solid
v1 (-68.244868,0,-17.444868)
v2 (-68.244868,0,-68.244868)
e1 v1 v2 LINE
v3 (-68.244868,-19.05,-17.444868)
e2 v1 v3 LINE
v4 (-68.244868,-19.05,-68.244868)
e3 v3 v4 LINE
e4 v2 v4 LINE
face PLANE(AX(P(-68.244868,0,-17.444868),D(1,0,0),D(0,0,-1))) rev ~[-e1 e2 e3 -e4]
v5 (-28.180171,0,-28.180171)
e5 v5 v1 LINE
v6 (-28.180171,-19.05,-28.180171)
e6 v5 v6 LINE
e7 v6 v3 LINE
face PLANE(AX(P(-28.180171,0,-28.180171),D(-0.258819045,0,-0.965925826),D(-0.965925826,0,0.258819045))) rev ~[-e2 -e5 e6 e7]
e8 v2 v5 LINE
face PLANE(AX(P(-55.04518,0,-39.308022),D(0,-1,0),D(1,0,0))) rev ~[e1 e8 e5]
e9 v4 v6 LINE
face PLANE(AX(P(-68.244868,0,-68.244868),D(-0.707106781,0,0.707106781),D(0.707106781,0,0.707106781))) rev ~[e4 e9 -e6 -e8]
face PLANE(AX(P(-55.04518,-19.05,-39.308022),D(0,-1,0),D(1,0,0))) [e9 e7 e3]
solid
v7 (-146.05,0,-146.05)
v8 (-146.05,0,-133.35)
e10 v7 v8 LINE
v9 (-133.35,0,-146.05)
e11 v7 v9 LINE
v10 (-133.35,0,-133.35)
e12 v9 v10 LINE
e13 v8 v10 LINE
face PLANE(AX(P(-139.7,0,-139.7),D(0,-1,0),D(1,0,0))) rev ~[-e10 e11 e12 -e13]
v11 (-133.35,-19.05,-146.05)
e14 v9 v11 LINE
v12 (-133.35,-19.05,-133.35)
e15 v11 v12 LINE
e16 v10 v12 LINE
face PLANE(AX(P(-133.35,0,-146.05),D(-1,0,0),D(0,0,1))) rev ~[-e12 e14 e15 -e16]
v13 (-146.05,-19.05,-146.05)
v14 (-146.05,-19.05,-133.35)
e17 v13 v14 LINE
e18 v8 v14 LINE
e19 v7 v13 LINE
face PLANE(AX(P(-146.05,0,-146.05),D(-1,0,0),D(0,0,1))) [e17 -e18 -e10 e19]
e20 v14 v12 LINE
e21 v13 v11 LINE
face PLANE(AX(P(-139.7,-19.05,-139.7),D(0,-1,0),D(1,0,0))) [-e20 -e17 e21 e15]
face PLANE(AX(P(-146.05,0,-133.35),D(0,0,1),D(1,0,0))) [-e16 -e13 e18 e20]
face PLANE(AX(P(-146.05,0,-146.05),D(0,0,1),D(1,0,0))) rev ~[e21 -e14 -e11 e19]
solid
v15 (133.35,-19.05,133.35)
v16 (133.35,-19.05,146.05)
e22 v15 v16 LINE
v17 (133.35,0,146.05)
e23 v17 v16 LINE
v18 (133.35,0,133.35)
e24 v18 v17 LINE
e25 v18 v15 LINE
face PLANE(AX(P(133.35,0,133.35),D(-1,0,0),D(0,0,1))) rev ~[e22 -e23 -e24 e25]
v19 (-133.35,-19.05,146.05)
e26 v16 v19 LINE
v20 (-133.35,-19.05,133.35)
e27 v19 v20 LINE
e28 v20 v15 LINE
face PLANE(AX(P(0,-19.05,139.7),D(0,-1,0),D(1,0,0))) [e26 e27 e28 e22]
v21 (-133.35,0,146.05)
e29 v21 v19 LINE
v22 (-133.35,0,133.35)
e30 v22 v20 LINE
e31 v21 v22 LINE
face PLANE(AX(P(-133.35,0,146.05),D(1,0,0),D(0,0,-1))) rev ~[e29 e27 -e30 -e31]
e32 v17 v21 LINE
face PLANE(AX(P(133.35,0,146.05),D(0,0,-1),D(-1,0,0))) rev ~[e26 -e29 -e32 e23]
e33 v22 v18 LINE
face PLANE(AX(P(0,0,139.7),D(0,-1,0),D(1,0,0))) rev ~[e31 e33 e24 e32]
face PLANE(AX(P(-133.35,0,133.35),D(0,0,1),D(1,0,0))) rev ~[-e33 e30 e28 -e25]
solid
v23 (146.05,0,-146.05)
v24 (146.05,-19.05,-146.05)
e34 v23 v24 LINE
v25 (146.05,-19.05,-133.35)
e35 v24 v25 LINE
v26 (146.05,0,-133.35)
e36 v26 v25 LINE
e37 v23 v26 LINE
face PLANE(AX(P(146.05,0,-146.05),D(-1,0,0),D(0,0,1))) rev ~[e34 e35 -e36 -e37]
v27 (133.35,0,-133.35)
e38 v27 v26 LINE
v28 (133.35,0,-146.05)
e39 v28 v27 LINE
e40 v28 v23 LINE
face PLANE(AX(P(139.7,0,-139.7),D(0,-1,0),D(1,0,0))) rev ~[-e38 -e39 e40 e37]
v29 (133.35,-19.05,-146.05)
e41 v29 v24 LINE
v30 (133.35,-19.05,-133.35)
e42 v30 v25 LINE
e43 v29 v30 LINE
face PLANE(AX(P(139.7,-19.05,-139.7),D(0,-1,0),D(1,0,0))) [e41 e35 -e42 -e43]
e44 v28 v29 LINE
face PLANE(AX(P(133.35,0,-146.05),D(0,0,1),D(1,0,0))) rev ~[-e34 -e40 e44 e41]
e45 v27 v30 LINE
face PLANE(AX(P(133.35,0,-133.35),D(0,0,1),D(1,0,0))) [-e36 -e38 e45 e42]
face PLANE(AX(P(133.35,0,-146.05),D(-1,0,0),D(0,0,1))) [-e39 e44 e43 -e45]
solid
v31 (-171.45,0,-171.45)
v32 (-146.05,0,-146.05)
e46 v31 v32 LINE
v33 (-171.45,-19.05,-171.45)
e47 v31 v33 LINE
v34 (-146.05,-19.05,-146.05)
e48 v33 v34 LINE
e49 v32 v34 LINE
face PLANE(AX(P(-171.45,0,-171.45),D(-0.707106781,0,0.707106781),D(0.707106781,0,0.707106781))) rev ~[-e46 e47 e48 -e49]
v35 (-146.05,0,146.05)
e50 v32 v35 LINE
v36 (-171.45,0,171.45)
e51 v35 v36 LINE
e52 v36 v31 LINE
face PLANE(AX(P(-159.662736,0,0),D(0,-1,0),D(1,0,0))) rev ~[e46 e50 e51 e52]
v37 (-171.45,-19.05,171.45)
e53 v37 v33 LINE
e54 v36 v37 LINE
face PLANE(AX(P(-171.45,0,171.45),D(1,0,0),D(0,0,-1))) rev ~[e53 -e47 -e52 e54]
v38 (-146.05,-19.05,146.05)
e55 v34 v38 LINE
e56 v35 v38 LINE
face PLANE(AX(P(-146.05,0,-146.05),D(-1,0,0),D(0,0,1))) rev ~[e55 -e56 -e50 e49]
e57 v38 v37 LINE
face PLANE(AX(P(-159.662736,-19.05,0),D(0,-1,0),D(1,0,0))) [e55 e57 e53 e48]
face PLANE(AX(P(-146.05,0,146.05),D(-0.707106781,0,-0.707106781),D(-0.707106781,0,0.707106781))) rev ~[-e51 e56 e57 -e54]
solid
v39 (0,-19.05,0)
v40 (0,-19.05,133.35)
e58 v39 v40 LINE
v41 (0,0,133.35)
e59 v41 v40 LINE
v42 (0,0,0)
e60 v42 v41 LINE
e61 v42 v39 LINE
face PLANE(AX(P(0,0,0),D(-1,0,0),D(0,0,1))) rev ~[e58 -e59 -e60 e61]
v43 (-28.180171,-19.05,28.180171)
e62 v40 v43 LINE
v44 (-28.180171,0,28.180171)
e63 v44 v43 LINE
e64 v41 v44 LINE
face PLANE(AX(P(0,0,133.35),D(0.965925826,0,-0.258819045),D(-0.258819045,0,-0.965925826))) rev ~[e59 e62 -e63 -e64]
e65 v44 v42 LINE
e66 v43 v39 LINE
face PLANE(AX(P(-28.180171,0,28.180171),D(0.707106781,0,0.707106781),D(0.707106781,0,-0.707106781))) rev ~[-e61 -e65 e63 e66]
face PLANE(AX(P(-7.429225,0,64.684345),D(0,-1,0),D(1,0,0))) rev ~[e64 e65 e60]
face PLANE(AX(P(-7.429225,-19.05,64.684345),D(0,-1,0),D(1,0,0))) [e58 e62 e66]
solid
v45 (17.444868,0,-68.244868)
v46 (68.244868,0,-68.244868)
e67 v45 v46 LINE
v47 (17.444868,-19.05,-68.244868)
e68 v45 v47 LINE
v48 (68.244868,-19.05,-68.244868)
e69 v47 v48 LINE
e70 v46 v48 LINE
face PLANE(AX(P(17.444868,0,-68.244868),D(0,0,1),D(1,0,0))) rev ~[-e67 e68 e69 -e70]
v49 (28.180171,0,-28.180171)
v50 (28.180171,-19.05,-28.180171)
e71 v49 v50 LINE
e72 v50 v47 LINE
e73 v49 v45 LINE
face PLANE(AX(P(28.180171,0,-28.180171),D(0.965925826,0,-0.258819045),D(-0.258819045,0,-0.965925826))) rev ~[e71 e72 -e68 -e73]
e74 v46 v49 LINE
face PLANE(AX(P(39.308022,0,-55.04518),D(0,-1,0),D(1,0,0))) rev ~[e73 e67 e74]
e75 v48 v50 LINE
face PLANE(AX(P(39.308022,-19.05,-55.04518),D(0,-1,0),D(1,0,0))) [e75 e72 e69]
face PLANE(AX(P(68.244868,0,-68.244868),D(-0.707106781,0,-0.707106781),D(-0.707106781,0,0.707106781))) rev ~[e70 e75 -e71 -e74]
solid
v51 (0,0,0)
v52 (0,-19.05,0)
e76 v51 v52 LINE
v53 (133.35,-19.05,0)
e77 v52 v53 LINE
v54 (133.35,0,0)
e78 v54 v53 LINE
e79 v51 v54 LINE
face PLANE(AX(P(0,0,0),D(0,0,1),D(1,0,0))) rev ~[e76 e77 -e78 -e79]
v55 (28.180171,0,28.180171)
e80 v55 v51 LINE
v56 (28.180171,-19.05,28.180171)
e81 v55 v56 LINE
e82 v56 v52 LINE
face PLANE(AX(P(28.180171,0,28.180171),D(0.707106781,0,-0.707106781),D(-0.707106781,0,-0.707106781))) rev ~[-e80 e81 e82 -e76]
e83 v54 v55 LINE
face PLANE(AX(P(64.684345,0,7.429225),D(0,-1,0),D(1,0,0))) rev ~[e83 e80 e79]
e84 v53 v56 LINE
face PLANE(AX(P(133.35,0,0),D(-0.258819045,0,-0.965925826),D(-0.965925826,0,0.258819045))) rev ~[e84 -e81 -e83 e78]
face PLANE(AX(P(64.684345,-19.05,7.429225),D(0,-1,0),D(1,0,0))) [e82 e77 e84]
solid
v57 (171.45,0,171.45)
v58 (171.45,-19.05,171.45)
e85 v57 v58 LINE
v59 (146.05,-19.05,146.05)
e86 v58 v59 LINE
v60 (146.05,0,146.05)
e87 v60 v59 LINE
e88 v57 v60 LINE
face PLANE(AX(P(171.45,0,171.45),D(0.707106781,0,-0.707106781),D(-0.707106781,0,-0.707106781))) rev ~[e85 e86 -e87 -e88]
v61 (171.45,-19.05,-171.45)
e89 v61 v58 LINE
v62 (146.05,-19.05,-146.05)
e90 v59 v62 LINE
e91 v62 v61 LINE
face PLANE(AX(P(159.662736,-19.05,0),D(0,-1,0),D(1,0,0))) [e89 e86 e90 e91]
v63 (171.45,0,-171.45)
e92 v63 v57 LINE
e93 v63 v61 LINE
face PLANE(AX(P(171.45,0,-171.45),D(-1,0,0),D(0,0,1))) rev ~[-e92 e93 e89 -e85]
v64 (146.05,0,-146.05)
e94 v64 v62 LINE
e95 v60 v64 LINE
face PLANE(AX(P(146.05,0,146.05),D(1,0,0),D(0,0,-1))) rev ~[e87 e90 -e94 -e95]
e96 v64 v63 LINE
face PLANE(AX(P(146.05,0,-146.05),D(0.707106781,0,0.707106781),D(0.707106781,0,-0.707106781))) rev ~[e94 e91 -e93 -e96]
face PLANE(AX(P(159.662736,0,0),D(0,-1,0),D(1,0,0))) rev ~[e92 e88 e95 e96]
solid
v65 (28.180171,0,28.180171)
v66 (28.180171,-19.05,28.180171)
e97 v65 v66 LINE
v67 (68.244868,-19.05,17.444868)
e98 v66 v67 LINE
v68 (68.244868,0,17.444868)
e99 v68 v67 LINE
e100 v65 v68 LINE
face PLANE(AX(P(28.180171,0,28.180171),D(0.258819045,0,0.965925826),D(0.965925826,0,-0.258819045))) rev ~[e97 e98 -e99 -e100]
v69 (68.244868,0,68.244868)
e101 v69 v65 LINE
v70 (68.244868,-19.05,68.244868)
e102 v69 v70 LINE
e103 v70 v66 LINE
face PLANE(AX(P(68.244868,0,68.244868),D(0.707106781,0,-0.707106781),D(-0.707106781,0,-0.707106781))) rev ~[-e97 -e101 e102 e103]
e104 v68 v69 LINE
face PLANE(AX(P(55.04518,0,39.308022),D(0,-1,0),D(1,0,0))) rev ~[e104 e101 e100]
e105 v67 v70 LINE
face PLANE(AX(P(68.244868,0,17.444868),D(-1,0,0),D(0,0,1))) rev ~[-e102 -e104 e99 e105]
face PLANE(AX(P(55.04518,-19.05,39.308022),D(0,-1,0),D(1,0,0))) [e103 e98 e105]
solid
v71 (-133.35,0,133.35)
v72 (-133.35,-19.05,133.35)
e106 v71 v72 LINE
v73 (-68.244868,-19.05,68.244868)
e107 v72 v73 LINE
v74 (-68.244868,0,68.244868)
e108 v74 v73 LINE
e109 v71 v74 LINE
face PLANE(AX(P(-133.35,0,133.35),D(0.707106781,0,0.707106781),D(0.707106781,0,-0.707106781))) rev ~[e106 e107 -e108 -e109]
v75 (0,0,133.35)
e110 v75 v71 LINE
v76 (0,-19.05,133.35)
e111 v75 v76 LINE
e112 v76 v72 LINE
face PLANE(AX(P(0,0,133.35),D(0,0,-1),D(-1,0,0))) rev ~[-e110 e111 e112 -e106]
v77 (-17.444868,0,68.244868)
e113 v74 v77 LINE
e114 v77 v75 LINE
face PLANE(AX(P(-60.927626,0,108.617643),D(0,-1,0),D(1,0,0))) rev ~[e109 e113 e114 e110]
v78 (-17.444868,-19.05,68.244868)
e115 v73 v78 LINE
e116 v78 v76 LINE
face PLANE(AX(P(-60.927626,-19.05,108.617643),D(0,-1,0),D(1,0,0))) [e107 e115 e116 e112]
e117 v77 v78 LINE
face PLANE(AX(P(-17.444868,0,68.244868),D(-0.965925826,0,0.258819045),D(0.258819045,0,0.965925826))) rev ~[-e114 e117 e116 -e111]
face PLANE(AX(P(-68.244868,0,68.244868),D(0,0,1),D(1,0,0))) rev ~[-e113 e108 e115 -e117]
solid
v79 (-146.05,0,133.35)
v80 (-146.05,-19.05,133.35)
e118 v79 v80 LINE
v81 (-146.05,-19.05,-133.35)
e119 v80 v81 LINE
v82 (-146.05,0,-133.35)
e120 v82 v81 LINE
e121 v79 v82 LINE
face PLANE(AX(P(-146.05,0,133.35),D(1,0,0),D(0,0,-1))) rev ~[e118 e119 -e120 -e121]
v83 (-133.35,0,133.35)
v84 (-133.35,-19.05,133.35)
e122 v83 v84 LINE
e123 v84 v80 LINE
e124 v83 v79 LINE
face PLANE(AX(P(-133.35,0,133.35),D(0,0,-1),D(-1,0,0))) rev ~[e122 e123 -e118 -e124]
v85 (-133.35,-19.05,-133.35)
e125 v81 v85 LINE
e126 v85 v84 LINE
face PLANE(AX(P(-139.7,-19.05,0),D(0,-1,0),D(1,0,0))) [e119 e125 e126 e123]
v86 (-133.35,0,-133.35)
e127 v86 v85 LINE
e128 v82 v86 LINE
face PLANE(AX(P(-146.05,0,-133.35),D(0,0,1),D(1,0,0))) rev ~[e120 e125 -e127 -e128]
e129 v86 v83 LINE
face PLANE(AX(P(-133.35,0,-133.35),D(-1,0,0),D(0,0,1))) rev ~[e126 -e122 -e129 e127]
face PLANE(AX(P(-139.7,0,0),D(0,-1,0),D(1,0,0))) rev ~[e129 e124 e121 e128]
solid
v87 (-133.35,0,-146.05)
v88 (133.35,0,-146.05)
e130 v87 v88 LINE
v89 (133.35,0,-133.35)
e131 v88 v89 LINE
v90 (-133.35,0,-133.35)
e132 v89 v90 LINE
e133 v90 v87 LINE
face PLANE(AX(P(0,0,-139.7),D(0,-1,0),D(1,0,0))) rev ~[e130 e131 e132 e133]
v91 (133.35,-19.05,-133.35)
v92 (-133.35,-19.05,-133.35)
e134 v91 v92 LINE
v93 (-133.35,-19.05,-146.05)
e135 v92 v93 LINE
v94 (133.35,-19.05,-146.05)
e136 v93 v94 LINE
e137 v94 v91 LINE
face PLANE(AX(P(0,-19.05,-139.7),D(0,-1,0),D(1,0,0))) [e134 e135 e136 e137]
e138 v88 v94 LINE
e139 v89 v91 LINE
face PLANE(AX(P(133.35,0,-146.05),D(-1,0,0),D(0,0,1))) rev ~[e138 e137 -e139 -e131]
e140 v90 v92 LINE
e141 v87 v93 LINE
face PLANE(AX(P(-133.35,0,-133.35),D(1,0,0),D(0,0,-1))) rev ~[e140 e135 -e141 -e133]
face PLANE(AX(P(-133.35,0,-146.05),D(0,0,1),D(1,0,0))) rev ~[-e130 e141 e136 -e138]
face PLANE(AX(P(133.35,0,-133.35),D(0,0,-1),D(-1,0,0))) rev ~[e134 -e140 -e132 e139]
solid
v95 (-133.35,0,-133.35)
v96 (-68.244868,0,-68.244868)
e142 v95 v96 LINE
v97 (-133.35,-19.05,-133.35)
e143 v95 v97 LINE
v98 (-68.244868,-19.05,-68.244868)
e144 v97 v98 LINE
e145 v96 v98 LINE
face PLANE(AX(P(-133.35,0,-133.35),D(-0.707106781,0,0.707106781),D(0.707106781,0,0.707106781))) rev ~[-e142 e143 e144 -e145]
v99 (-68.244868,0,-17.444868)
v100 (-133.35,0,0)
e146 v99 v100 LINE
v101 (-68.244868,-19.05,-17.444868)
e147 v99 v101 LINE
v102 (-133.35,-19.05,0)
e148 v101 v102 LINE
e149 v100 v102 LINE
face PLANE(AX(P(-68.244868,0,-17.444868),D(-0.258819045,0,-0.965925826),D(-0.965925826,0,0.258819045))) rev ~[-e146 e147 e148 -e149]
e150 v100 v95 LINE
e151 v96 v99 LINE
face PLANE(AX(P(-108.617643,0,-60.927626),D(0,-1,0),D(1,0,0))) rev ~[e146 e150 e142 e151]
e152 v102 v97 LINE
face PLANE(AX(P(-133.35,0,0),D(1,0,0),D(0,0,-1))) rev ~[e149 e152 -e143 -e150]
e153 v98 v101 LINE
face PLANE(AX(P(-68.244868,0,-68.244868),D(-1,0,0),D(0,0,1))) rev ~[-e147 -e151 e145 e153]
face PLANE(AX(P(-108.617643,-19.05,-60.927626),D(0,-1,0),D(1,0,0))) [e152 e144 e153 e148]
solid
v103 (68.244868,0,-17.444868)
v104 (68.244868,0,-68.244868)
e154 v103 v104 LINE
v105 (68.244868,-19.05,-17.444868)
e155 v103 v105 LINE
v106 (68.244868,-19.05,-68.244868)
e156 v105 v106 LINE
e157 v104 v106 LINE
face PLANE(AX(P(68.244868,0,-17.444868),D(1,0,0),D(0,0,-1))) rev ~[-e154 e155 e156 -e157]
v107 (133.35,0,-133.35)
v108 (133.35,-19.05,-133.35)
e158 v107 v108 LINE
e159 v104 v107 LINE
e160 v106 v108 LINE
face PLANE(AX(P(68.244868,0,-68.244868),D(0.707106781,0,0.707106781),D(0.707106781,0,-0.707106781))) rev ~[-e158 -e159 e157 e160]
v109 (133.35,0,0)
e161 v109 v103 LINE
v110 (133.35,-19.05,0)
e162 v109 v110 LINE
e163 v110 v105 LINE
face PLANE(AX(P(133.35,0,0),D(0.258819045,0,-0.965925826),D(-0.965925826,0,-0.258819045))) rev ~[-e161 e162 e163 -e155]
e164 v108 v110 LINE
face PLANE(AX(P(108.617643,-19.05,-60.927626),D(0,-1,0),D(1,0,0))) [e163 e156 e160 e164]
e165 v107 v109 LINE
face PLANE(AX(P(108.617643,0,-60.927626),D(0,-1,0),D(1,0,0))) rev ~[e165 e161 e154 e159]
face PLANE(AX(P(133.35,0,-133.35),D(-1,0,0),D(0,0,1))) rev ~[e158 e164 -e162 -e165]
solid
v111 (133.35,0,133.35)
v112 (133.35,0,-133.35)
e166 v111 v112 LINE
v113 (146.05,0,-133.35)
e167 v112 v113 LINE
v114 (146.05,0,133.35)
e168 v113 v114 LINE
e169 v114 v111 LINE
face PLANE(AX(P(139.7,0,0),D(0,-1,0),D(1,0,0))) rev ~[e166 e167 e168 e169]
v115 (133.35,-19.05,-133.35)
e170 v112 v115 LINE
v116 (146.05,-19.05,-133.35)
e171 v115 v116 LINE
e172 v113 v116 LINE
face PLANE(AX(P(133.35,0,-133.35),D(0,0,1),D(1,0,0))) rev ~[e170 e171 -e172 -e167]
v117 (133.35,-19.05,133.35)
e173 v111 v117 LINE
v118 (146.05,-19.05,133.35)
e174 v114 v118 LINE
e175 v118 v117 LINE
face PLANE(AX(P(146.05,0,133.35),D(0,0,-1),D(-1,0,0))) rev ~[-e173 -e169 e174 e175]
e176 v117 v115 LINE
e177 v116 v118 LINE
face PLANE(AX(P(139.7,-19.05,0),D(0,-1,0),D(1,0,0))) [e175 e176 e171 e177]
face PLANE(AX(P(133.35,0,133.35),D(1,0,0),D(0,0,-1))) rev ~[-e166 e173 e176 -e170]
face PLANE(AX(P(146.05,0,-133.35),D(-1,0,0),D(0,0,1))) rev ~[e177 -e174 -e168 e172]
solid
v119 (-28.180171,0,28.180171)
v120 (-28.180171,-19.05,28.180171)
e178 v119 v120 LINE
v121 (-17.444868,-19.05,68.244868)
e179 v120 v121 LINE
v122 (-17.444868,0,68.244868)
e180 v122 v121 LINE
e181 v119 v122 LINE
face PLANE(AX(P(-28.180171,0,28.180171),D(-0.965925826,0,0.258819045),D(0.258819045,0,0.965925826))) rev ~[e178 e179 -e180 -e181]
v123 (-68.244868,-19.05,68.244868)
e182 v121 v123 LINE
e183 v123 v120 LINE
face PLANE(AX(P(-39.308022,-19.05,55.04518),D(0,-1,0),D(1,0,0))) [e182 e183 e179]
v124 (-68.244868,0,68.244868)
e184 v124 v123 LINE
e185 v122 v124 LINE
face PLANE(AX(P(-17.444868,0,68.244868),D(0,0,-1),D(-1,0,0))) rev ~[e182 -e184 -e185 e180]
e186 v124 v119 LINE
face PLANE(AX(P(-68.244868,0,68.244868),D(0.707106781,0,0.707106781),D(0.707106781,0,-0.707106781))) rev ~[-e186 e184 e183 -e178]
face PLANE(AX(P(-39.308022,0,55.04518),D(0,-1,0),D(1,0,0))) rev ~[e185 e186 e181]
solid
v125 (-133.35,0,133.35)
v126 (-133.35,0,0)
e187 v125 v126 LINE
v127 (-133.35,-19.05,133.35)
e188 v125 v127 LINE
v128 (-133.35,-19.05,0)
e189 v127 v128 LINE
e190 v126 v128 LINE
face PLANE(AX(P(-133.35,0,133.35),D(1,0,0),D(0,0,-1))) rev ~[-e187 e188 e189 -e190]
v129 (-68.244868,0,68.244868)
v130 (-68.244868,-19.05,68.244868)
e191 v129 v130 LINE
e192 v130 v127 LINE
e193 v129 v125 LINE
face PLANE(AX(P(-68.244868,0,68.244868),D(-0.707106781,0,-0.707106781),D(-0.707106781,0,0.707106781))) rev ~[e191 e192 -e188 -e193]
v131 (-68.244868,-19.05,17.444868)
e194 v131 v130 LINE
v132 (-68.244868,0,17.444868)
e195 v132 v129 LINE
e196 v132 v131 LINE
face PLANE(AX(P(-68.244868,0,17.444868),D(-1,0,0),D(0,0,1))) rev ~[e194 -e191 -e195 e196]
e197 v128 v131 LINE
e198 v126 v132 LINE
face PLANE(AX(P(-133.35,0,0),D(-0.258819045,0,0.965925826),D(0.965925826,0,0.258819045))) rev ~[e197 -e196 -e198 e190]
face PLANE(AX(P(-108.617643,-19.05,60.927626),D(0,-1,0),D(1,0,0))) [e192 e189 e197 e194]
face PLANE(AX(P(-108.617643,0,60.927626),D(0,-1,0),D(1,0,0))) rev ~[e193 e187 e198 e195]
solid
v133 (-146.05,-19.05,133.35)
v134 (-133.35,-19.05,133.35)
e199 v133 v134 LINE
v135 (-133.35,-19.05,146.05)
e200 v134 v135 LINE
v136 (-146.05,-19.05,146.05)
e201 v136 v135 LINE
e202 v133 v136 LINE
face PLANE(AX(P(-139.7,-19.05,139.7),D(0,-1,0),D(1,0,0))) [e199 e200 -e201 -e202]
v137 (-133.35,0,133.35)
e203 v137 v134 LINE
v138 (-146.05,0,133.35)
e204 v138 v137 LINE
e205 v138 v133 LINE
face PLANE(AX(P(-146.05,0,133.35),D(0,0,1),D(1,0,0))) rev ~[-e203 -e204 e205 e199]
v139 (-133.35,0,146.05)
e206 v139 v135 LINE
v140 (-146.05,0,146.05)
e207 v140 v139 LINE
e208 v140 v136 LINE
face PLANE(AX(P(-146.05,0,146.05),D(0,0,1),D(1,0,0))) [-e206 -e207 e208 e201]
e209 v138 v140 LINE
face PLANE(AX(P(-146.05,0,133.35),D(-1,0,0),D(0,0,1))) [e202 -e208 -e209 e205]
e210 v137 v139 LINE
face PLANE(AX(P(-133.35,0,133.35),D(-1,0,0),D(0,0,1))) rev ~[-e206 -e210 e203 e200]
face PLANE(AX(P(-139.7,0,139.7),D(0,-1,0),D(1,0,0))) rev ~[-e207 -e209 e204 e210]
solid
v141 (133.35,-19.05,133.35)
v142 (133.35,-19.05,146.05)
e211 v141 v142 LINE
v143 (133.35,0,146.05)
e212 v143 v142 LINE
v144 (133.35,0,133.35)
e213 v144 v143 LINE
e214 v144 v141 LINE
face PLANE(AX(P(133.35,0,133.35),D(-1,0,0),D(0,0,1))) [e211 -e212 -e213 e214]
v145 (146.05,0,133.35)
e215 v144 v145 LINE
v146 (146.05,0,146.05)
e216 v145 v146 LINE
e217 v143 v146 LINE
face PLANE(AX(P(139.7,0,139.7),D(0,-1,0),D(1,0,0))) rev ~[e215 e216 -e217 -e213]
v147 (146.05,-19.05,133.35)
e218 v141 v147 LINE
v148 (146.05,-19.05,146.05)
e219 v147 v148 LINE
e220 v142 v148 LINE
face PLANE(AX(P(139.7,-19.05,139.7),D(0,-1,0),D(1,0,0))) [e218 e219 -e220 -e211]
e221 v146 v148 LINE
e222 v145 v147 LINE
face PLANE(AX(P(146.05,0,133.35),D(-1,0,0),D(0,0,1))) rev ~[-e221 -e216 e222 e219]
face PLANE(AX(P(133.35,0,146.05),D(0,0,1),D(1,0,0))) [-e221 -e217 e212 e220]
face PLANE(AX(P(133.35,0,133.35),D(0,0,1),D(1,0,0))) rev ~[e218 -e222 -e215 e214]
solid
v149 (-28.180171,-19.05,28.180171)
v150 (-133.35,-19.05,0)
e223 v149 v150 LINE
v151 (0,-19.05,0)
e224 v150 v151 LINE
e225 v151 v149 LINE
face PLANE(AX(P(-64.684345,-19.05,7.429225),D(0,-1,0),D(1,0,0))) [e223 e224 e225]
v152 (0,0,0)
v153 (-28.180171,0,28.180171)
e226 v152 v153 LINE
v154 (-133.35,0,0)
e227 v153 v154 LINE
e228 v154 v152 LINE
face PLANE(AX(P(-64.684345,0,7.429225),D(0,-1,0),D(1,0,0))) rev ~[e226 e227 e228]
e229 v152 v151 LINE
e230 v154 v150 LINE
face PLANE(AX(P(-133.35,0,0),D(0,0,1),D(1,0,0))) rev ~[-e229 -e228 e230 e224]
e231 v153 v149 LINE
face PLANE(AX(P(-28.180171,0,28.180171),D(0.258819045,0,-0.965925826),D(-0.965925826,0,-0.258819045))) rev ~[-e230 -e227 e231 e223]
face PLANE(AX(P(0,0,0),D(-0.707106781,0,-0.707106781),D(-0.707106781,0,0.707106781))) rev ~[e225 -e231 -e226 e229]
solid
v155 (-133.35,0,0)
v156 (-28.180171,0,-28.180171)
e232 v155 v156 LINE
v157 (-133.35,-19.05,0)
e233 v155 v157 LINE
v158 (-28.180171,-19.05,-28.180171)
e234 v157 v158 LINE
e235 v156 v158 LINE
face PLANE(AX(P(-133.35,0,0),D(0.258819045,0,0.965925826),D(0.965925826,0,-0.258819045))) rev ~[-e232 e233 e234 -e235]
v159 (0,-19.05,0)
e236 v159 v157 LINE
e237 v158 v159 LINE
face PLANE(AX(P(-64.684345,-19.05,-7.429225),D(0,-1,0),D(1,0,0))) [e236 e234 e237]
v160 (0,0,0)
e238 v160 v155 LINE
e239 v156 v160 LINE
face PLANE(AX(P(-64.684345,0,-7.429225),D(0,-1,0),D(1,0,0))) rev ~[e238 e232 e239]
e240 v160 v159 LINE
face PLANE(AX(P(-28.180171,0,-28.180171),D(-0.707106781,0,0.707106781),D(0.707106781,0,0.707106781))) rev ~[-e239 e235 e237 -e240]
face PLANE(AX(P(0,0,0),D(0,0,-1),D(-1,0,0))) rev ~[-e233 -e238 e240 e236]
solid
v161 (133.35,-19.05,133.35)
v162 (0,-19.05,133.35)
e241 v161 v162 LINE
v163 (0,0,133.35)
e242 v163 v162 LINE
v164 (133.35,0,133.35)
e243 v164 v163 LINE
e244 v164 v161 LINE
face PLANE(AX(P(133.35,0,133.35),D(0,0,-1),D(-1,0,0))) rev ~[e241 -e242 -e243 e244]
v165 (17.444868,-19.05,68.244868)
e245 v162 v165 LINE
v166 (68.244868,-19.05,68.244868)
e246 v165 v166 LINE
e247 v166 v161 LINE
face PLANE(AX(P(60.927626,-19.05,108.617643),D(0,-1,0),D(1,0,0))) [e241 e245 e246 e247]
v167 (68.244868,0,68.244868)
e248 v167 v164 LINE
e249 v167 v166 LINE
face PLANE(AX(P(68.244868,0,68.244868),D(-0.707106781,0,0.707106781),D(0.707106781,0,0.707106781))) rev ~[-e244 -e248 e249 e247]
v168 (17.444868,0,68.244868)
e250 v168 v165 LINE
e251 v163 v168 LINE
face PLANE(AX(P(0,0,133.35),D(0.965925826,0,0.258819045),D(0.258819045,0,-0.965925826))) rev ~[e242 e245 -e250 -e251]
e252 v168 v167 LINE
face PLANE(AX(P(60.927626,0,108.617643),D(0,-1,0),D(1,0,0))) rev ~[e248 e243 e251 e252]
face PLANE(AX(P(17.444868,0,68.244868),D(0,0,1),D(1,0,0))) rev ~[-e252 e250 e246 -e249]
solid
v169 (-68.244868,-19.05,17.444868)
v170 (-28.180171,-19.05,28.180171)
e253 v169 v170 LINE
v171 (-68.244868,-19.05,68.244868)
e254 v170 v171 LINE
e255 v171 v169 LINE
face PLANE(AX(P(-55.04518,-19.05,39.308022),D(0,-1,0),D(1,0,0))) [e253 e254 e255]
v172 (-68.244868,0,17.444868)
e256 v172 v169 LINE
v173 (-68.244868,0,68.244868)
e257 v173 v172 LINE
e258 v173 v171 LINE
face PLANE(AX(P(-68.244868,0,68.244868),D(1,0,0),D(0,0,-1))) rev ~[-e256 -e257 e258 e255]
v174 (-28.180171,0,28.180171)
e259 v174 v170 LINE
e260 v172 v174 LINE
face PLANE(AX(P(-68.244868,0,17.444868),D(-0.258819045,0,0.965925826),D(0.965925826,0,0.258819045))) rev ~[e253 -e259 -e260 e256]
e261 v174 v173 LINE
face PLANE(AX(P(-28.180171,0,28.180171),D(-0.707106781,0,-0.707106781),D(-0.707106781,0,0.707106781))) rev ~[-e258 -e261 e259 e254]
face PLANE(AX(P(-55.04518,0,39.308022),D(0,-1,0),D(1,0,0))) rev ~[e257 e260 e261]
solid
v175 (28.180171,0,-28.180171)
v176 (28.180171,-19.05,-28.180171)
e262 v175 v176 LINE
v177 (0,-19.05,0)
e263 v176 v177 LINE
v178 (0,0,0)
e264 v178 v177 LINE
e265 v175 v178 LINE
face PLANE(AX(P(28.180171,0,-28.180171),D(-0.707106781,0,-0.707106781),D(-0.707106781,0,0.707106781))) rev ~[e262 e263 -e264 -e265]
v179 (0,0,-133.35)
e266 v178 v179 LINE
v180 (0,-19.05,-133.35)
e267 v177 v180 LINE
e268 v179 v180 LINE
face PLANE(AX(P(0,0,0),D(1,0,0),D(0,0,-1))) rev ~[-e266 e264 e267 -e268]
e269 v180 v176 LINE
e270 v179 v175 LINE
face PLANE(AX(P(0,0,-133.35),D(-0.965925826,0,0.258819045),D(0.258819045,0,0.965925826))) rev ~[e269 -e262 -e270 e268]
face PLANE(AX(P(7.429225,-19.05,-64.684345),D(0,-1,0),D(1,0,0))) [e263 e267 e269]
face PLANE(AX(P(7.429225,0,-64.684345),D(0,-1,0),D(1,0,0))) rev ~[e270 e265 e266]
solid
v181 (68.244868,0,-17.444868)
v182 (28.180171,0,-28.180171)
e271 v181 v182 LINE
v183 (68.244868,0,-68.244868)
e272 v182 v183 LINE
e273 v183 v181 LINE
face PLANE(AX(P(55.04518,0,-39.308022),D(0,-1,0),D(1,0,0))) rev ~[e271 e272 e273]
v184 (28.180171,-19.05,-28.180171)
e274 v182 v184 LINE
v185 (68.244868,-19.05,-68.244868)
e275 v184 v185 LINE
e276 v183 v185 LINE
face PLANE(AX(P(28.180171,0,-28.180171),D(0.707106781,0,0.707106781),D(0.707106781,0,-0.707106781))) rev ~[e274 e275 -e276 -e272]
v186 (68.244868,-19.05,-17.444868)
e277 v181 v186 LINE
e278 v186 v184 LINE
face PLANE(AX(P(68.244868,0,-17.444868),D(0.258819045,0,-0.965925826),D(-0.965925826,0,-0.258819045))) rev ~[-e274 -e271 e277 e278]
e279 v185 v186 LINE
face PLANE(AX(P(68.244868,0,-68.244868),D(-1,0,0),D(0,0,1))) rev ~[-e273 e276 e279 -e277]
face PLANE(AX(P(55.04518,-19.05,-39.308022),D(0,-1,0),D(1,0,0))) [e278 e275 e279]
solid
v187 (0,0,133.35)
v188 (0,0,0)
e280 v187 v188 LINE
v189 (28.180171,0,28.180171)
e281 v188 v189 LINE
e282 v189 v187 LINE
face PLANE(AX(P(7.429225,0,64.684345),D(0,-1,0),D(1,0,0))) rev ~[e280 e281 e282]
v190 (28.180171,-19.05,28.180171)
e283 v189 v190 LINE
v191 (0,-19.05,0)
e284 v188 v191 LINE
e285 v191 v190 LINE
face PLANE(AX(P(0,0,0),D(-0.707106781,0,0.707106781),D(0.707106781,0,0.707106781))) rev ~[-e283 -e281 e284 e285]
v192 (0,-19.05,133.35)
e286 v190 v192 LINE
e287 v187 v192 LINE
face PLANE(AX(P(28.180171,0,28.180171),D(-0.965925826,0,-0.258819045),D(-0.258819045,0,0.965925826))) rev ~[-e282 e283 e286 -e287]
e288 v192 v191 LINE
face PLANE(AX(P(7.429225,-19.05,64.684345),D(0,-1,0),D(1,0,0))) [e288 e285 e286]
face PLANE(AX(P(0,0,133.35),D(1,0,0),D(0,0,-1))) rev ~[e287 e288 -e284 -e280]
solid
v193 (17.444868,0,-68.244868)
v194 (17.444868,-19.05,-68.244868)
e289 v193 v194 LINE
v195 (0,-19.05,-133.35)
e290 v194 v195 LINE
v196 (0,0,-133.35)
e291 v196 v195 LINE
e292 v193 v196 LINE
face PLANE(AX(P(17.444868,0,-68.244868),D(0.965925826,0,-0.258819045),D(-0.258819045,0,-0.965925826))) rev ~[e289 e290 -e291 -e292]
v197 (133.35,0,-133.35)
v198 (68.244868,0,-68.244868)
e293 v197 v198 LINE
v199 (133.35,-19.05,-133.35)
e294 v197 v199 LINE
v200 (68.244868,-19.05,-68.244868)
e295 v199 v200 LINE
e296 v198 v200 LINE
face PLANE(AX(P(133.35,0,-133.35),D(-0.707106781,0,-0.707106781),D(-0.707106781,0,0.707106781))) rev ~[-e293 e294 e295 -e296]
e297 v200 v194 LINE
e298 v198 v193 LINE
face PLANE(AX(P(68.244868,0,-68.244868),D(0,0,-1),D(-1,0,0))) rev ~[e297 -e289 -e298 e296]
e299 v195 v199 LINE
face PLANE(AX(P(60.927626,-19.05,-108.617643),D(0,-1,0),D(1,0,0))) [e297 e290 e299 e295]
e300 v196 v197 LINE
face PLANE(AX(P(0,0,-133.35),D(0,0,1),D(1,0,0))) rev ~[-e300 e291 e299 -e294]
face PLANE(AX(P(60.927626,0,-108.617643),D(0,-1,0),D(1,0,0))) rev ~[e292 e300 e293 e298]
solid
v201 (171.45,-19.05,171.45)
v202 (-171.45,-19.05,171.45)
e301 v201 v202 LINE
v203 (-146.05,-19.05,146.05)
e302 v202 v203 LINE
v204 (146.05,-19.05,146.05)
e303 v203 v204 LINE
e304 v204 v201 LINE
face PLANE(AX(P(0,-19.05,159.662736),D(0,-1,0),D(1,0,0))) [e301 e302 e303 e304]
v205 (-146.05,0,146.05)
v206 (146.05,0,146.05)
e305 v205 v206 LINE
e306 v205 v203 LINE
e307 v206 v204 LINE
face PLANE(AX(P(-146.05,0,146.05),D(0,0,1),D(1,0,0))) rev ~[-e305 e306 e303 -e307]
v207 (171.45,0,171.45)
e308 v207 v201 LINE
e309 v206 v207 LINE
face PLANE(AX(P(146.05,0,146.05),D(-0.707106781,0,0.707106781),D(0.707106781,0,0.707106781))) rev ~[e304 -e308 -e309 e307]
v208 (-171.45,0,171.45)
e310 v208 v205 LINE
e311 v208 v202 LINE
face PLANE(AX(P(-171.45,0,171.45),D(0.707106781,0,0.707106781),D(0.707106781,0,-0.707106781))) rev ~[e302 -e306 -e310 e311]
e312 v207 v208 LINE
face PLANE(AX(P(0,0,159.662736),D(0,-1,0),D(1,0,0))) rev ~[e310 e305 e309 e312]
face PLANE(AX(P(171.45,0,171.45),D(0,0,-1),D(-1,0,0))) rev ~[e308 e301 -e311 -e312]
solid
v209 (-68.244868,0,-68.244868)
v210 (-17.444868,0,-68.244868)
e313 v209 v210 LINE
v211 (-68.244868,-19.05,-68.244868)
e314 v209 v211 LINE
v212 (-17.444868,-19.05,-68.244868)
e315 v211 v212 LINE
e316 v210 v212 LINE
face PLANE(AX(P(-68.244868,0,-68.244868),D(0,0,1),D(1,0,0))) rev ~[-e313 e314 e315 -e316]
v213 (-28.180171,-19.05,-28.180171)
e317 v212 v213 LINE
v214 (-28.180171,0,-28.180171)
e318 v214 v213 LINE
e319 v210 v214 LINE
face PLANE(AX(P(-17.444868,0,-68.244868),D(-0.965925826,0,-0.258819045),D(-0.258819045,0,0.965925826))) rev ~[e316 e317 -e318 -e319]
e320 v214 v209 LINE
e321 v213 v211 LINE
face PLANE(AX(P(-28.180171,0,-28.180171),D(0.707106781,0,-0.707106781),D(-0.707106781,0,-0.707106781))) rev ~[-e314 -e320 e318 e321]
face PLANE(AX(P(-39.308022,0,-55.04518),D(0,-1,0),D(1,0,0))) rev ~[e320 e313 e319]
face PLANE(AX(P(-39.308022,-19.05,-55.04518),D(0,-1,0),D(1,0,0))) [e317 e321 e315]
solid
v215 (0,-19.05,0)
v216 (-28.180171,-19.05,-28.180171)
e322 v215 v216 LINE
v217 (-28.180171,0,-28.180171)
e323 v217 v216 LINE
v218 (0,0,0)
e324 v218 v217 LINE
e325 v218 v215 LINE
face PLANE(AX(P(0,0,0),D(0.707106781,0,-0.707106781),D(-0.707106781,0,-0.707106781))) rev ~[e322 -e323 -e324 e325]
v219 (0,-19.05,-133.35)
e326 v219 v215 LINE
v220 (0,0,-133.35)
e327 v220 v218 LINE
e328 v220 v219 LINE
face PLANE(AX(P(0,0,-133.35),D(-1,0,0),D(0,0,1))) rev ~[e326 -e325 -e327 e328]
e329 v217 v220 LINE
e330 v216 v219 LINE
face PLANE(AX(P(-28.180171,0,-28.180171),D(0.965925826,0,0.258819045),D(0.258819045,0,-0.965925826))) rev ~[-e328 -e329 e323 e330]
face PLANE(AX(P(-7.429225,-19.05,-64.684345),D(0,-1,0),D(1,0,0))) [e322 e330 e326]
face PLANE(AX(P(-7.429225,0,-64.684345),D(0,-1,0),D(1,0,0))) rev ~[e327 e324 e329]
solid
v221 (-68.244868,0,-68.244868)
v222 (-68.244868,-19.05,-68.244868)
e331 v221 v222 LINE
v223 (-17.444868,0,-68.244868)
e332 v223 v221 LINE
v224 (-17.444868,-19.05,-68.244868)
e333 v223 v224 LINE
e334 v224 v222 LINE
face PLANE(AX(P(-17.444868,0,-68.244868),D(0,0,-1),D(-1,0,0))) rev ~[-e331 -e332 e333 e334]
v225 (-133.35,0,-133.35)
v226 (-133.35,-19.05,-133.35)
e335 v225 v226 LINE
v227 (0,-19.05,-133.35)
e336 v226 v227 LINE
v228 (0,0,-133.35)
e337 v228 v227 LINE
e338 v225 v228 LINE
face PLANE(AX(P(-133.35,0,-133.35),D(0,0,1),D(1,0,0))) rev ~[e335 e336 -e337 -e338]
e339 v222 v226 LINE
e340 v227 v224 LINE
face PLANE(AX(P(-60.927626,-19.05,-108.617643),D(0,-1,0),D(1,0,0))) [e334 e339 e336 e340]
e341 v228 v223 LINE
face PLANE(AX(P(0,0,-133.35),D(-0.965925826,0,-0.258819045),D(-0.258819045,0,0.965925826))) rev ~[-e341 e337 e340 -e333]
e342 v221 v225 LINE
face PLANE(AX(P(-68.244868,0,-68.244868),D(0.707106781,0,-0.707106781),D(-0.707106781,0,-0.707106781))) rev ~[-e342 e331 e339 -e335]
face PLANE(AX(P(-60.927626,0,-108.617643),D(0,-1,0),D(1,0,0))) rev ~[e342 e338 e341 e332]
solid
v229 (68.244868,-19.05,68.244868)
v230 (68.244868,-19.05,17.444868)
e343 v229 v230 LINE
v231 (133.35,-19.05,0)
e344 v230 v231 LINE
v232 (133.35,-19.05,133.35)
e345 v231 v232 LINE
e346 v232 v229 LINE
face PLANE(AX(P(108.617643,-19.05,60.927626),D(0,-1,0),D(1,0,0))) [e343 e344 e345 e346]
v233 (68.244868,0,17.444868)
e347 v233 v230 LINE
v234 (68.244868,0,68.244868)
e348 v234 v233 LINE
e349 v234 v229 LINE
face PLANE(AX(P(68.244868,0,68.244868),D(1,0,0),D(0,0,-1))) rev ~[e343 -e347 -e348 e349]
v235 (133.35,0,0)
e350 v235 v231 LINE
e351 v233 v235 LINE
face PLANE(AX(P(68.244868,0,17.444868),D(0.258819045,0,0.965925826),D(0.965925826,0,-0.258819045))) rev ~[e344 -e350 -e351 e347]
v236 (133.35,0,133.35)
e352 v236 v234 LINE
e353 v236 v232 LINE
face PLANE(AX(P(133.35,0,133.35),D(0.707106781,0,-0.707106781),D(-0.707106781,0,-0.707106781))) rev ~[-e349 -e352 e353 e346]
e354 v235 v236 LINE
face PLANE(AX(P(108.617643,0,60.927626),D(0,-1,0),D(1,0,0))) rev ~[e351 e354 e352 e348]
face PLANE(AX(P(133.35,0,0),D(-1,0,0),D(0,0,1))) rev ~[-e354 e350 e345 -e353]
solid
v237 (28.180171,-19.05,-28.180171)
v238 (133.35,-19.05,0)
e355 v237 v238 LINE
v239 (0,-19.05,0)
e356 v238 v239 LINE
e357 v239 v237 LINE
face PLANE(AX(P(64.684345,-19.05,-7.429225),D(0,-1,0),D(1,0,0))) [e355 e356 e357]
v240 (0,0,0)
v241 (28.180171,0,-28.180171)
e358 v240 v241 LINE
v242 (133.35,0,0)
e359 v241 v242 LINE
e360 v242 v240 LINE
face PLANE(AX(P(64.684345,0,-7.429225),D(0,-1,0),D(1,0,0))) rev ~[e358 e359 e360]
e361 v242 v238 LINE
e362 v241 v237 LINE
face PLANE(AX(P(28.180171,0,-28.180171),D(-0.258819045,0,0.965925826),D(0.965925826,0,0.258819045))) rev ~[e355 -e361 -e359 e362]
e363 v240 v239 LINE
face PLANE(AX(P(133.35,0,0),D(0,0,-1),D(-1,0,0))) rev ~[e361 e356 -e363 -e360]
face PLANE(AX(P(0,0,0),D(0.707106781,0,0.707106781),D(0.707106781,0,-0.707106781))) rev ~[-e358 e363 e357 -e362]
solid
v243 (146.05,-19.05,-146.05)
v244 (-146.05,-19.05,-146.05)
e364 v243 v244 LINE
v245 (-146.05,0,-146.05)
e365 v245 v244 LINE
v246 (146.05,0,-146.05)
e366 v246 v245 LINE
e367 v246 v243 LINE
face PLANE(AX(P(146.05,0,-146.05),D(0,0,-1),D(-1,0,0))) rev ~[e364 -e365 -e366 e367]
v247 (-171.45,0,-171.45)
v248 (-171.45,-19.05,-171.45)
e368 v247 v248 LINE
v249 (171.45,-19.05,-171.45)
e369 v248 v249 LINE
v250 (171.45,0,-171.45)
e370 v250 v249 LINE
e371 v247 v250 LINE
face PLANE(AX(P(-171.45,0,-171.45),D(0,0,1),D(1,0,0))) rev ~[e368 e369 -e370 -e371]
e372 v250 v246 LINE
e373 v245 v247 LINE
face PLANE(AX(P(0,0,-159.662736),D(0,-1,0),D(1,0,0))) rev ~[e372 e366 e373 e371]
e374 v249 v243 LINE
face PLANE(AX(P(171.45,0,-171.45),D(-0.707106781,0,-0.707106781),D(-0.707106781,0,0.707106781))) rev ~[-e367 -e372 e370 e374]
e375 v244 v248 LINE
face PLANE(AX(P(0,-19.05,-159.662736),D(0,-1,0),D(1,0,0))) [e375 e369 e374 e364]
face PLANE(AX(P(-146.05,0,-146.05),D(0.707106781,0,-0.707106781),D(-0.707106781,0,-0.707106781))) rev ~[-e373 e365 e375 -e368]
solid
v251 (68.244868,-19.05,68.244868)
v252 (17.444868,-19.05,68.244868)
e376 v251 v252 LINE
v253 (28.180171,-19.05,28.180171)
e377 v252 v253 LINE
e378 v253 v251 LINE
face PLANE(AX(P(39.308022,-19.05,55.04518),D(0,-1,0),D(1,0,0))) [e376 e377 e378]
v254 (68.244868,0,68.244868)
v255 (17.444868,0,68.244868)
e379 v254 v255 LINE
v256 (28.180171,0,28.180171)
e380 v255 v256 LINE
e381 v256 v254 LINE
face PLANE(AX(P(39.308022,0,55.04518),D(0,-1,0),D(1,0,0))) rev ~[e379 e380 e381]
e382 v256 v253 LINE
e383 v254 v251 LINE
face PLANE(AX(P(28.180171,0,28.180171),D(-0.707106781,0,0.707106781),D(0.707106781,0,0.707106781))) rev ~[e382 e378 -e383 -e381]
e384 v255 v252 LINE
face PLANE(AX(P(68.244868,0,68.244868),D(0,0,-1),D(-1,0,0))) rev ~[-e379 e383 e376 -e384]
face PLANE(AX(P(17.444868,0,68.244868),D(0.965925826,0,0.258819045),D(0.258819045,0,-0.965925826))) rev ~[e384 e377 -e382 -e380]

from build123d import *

# Parameters (mm, degrees)
F1_DEPTH  = 19.05
F2_DEPTH  = 19.05
F3_DEPTH  = 19.05
F4_DEPTH  = 19.05
F5_DEPTH  = 19.05
F6_DEPTH  = 19.05
F0_W      = 12.7
F0_H      = 12.7
F7_DEPTH  = 19.05
F8_DEPTH  = 19.05
F10_DEPTH = 19.05
F11_DEPTH = 19.05
F12_DEPTH = 19.05
F13_DEPTH = 19.05


with BuildPart() as f1:
    # F0 (on Front) → F1 (new body)
    with BuildSketch(Plane.XZ):
        Polygon((146.05, 146.05), (146.05, 133.35), (146.05, -133.35), (146.05, -146.05), (171.45, -171.45), (171.45, 171.45), align=None)
    extrude(amount=F1_DEPTH)


with BuildPart() as f1b:
    # F0 (on Front) → F1, piece 2 (new body)
    with BuildSketch(Plane.XZ):
        Polygon((-146.05, -133.35), (-146.05, 133.35), (-146.05, 146.05), (-171.45, 171.45), (-171.45, -171.45), (-146.05, -146.05), align=None)
    extrude(amount=F1_DEPTH)


with BuildPart() as f2:
    # F0 (on Front) → F2 (new body)
    with BuildSketch(Plane.XZ):
        Polygon((-146.05, 146.05), (-133.35, 146.05), (133.35, 146.05), (146.05, 146.05), (171.45, 171.45), (-171.45, 171.45), align=None)
    extrude(amount=F2_DEPTH)


with BuildPart() as f2b:
    # F0 (on Front) → F2, piece 2 (new body)
    with BuildSketch(Plane.XZ):
        Polygon((133.35, -146.05), (-133.35, -146.05), (-146.05, -146.05), (-171.45, -171.45), (171.45, -171.45), (146.05, -146.05), align=None)
    extrude(amount=F2_DEPTH)


with BuildPart() as f3:
    # F0 (on Front) → F3 (new body)
    with BuildSketch(Plane.XZ):
        Polygon((0, 0), (0, 133.35), (-17.4448676392, 68.2448676392), (-28.1801708018, 28.1801708018), align=None)
    extrude(amount=F3_DEPTH)


with BuildPart() as f3b:
    # F0 (on Front) → F3, piece 2 (new body)
    with BuildSketch(Plane.XZ):
        Polygon((28.1801708018, 28.1801708018), (0, 0), (133.35, 0), (68.2448676392, 17.4448676392), align=None)
    extrude(amount=F3_DEPTH)


with BuildPart() as f3c:
    # F0 (on Front) → F3, piece 3 (new body)
    with BuildSketch(Plane.XZ):
        Polygon((28.1801708018, -28.1801708018), (0, 0), (0, -133.35), (17.4448676392, -68.2448676392), align=None)
    extrude(amount=F3_DEPTH)


with BuildPart() as f3d:
    # F0 (on Front) → F3, piece 4 (new body)
    with BuildSketch(Plane.XZ):
        Polygon((-28.1801708018, -28.1801708018), (0, 0), (-133.35, 0), (-68.2448676392, -17.4448676392), align=None)
    extrude(amount=F3_DEPTH)


with BuildPart() as f4:
    # F0 (on Front) → F4 (new body)
    with BuildSketch(Plane.XZ):
        Polygon((68.2448676392, 68.2448676392), (17.4448676392, 68.2448676392), (28.1801708018, 28.1801708018), align=None)
    extrude(amount=F4_DEPTH)


with BuildPart() as f4b:
    # F0 (on Front) → F4, piece 2 (new body)
    with BuildSketch(Plane.XZ):
        Polygon((68.2448676392, -17.4448676392), (28.1801708018, -28.1801708018), (68.2448676392, -68.2448676392), align=None)
    extrude(amount=F4_DEPTH)


with BuildPart() as f4c:
    # F0 (on Front) → F4, piece 3 (new body)
    with BuildSketch(Plane.XZ):
        Polygon((-17.4448676392, -68.2448676392), (-28.1801708018, -28.1801708018), (-68.2448676392, -68.2448676392), align=None)
    extrude(amount=F4_DEPTH)


with BuildPart() as f4d:
    # F0 (on Front) → F4, piece 4 (new body)
    with BuildSketch(Plane.XZ):
        Polygon((-68.2448676392, 17.4448676392), (-28.1801708018, 28.1801708018), (-68.2448676392, 68.2448676392), align=None)
    extrude(amount=F4_DEPTH)


with BuildPart() as f5:
    # F0 (on Front) → F5 (new body)
    with BuildSketch(Plane.XZ):
        Polygon((-28.1801708018, 28.1801708018), (-17.4448676392, 68.2448676392), (-68.2448676392, 68.2448676392), align=None)
    extrude(amount=F5_DEPTH)


with BuildPart() as f5b:
    # F0 (on Front) → F5, piece 2 (new body)
    with BuildSketch(Plane.XZ):
        Polygon((68.2448676392, 68.2448676392), (28.1801708018, 28.1801708018), (68.2448676392, 17.4448676392), align=None)
    extrude(amount=F5_DEPTH)


with BuildPart() as f5c:
    # F0 (on Front) → F5, piece 3 (new body)
    with BuildSketch(Plane.XZ):
        Polygon((68.2448676392, -68.2448676392), (28.1801708018, -28.1801708018), (17.4448676392, -68.2448676392), align=None)
    extrude(amount=F5_DEPTH)


with BuildPart() as f5d:
    # F0 (on Front) → F5, piece 4 (new body)
    with BuildSketch(Plane.XZ):
        Polygon((-68.2448676392, -68.2448676392), (-28.1801708018, -28.1801708018), (-68.2448676392, -17.4448676392), align=None)
    extrude(amount=F5_DEPTH)


with BuildPart() as f6:
    # F0 (on Front) → F6 (new body)
    with BuildSketch(Plane.XZ):
        Polygon((17.4448676392, 68.2448676392), (0, 133.35), (0, 0), (28.1801708018, 28.1801708018), align=None)
    extrude(amount=F6_DEPTH)


with BuildPart() as f6b:
    # F0 (on Front) → F6, piece 2 (new body)
    with BuildSketch(Plane.XZ):
        Polygon((133.35, 0), (0, 0), (28.1801708018, -28.1801708018), (68.2448676392, -17.4448676392), align=None)
    extrude(amount=F6_DEPTH)


with BuildPart() as f6c:
    # F0 (on Front) → F6, piece 3 (new body)
    with BuildSketch(Plane.XZ):
        Polygon((0, -133.35), (0, 0), (-28.1801708018, -28.1801708018), (-17.4448676392, -68.2448676392), align=None)
    extrude(amount=F6_DEPTH)


with BuildPart() as f6d:
    # F0 (on Front) → F6, piece 4 (new body)
    with BuildSketch(Plane.XZ):
        Polygon((-133.35, 0), (0, 0), (-28.1801708018, 28.1801708018), (-68.2448676392, 17.4448676392), align=None)
    extrude(amount=F6_DEPTH)


with BuildPart() as f7:
    # F0 (on Front) → F7 (new body)
    with BuildSketch(Plane.XZ):
        with Locations((-139.7, 139.7)):
            Rectangle(F0_W, F0_H)
    extrude(amount=F7_DEPTH)


with BuildPart() as f7b:
    # F0 (on Front) → F7, piece 2 (new body)
    with BuildSketch(Plane.XZ):
        with Locations((139.7, 139.7)):
            Rectangle(F0_W, F0_H)
    extrude(amount=F7_DEPTH)


with BuildPart() as f7c:
    # F0 (on Front) → F7, piece 3 (new body)
    with BuildSketch(Plane.XZ):
        with Locations((139.7, -139.7)):
            Rectangle(F0_W, F0_H)
    extrude(amount=F7_DEPTH)


with BuildPart() as f7d:
    # F0 (on Front) → F7, piece 4 (new body)
    with BuildSketch(Plane.XZ):
        with Locations((-139.7, -139.7)):
            Rectangle(F0_W, F0_H)
    extrude(amount=F7_DEPTH)


with BuildPart() as f8:
    # F0 (on Front) → F8 (new body)
    with BuildSketch(Plane.XZ):
        Polygon((-133.35, 133.35), (0, 133.35), (133.35, 133.35), (133.35, 146.05), (-133.35, 146.05), align=None)
    extrude(amount=F8_DEPTH)


with BuildPart() as f8b:
    # F0 (on Front) → F8, piece 2 (new body)
    with BuildSketch(Plane.XZ):
        Polygon((146.05, 133.35), (133.35, 133.35), (133.35, 0), (133.35, -133.35), (146.05, -133.35), align=None)
    extrude(amount=F8_DEPTH)


with BuildPart() as f8c:
    # F0 (on Front) → F8, piece 3 (new body)
    with BuildSketch(Plane.XZ):
        Polygon((133.35, -133.35), (0, -133.35), (-133.35, -133.35), (-133.35, -146.05), (133.35, -146.05), align=None)
    extrude(amount=F8_DEPTH)


with BuildPart() as f8d:
    # F0 (on Front) → F8, piece 4 (new body)
    with BuildSketch(Plane.XZ):
        Polygon((-133.35, 0), (-133.35, 133.35), (-146.05, 133.35), (-146.05, -133.35), (-133.35, -133.35), align=None)
    extrude(amount=F8_DEPTH)


with BuildPart() as f10:
    # F9 (on Front) → F10 (new body)
    with BuildSketch(Plane.XZ):
        Polygon((0, 133.35), (-133.35, 133.35), (-68.2448676392, 68.2448676392), (-17.4448676392, 68.2448676392), align=None)
    extrude(amount=F10_DEPTH)


with BuildPart() as f10b:
    # F9 (on Front) → F10, piece 2 (new body)
    with BuildSketch(Plane.XZ):
        Polygon((133.35, 133.35), (0, 133.35), (17.4448676392, 68.2448676392), (68.2448676392, 68.2448676392), align=None)
    extrude(amount=F10_DEPTH)


with BuildPart() as f11:
    # F9 (on Front) → F11 (new body)
    with BuildSketch(Plane.XZ):
        Polygon((-68.2448676392, 68.2448676392), (-133.35, 133.35), (-133.35, 0), (-68.2448676392, 17.4448676392), align=None)
    extrude(amount=F11_DEPTH)


with BuildPart() as f11b:
    # F9 (on Front) → F11, piece 2 (new body)
    with BuildSketch(Plane.XZ):
        Polygon((-68.2448676392, -17.4448676392), (-133.35, 0), (-133.35, -133.35), (-68.2448676392, -68.2448676392), align=None)
    extrude(amount=F11_DEPTH)


with BuildPart() as f12:
    # F9 (on Front) → F12 (new body)
    with BuildSketch(Plane.XZ):
        Polygon((133.35, 0), (133.35, 133.35), (68.2448676392, 68.2448676392), (68.2448676392, 17.4448676392), align=None)
    extrude(amount=F12_DEPTH)


with BuildPart() as f12b:
    # F9 (on Front) → F12, piece 2 (new body)
    with BuildSketch(Plane.XZ):
        Polygon((133.35, -133.35), (133.35, 0), (68.2448676392, -17.4448676392), (68.2448676392, -68.2448676392), align=None)
    extrude(amount=F12_DEPTH)


with BuildPart() as f13:
    # F9 (on Front) → F13 (new body)
    with BuildSketch(Plane.XZ):
        Polygon((-68.2448676392, -68.2448676392), (-133.35, -133.35), (0, -133.35), (-17.4448676392, -68.2448676392), align=None)
    extrude(amount=F13_DEPTH)


with BuildPart() as f13b:
    # F9 (on Front) → F13, piece 2 (new body)
    with BuildSketch(Plane.XZ):
        Polygon((17.4448676392, -68.2448676392), (0, -133.35), (133.35, -133.35), (68.2448676392, -68.2448676392), align=None)
    extrude(amount=F13_DEPTH)


solid = Compound([f1.part, f1b.part, f2.part, f2b.part, f3.part, f3b.part, f3c.part, f3d.part, f4.part, f4b.part, f4c.part, f4d.part, f5.part, f5b.part, f5c.part, f5d.part, f6.part, f6b.part, f6c.part, f6d.part, f7.part, f7b.part, f7c.part, f7d.part, f8.part, f8b.part, f8c.part, f8d.part, f10.part, f10b.part, f11.part, f11b.part, f12.part, f12b.part, f13.part, f13b.part])
